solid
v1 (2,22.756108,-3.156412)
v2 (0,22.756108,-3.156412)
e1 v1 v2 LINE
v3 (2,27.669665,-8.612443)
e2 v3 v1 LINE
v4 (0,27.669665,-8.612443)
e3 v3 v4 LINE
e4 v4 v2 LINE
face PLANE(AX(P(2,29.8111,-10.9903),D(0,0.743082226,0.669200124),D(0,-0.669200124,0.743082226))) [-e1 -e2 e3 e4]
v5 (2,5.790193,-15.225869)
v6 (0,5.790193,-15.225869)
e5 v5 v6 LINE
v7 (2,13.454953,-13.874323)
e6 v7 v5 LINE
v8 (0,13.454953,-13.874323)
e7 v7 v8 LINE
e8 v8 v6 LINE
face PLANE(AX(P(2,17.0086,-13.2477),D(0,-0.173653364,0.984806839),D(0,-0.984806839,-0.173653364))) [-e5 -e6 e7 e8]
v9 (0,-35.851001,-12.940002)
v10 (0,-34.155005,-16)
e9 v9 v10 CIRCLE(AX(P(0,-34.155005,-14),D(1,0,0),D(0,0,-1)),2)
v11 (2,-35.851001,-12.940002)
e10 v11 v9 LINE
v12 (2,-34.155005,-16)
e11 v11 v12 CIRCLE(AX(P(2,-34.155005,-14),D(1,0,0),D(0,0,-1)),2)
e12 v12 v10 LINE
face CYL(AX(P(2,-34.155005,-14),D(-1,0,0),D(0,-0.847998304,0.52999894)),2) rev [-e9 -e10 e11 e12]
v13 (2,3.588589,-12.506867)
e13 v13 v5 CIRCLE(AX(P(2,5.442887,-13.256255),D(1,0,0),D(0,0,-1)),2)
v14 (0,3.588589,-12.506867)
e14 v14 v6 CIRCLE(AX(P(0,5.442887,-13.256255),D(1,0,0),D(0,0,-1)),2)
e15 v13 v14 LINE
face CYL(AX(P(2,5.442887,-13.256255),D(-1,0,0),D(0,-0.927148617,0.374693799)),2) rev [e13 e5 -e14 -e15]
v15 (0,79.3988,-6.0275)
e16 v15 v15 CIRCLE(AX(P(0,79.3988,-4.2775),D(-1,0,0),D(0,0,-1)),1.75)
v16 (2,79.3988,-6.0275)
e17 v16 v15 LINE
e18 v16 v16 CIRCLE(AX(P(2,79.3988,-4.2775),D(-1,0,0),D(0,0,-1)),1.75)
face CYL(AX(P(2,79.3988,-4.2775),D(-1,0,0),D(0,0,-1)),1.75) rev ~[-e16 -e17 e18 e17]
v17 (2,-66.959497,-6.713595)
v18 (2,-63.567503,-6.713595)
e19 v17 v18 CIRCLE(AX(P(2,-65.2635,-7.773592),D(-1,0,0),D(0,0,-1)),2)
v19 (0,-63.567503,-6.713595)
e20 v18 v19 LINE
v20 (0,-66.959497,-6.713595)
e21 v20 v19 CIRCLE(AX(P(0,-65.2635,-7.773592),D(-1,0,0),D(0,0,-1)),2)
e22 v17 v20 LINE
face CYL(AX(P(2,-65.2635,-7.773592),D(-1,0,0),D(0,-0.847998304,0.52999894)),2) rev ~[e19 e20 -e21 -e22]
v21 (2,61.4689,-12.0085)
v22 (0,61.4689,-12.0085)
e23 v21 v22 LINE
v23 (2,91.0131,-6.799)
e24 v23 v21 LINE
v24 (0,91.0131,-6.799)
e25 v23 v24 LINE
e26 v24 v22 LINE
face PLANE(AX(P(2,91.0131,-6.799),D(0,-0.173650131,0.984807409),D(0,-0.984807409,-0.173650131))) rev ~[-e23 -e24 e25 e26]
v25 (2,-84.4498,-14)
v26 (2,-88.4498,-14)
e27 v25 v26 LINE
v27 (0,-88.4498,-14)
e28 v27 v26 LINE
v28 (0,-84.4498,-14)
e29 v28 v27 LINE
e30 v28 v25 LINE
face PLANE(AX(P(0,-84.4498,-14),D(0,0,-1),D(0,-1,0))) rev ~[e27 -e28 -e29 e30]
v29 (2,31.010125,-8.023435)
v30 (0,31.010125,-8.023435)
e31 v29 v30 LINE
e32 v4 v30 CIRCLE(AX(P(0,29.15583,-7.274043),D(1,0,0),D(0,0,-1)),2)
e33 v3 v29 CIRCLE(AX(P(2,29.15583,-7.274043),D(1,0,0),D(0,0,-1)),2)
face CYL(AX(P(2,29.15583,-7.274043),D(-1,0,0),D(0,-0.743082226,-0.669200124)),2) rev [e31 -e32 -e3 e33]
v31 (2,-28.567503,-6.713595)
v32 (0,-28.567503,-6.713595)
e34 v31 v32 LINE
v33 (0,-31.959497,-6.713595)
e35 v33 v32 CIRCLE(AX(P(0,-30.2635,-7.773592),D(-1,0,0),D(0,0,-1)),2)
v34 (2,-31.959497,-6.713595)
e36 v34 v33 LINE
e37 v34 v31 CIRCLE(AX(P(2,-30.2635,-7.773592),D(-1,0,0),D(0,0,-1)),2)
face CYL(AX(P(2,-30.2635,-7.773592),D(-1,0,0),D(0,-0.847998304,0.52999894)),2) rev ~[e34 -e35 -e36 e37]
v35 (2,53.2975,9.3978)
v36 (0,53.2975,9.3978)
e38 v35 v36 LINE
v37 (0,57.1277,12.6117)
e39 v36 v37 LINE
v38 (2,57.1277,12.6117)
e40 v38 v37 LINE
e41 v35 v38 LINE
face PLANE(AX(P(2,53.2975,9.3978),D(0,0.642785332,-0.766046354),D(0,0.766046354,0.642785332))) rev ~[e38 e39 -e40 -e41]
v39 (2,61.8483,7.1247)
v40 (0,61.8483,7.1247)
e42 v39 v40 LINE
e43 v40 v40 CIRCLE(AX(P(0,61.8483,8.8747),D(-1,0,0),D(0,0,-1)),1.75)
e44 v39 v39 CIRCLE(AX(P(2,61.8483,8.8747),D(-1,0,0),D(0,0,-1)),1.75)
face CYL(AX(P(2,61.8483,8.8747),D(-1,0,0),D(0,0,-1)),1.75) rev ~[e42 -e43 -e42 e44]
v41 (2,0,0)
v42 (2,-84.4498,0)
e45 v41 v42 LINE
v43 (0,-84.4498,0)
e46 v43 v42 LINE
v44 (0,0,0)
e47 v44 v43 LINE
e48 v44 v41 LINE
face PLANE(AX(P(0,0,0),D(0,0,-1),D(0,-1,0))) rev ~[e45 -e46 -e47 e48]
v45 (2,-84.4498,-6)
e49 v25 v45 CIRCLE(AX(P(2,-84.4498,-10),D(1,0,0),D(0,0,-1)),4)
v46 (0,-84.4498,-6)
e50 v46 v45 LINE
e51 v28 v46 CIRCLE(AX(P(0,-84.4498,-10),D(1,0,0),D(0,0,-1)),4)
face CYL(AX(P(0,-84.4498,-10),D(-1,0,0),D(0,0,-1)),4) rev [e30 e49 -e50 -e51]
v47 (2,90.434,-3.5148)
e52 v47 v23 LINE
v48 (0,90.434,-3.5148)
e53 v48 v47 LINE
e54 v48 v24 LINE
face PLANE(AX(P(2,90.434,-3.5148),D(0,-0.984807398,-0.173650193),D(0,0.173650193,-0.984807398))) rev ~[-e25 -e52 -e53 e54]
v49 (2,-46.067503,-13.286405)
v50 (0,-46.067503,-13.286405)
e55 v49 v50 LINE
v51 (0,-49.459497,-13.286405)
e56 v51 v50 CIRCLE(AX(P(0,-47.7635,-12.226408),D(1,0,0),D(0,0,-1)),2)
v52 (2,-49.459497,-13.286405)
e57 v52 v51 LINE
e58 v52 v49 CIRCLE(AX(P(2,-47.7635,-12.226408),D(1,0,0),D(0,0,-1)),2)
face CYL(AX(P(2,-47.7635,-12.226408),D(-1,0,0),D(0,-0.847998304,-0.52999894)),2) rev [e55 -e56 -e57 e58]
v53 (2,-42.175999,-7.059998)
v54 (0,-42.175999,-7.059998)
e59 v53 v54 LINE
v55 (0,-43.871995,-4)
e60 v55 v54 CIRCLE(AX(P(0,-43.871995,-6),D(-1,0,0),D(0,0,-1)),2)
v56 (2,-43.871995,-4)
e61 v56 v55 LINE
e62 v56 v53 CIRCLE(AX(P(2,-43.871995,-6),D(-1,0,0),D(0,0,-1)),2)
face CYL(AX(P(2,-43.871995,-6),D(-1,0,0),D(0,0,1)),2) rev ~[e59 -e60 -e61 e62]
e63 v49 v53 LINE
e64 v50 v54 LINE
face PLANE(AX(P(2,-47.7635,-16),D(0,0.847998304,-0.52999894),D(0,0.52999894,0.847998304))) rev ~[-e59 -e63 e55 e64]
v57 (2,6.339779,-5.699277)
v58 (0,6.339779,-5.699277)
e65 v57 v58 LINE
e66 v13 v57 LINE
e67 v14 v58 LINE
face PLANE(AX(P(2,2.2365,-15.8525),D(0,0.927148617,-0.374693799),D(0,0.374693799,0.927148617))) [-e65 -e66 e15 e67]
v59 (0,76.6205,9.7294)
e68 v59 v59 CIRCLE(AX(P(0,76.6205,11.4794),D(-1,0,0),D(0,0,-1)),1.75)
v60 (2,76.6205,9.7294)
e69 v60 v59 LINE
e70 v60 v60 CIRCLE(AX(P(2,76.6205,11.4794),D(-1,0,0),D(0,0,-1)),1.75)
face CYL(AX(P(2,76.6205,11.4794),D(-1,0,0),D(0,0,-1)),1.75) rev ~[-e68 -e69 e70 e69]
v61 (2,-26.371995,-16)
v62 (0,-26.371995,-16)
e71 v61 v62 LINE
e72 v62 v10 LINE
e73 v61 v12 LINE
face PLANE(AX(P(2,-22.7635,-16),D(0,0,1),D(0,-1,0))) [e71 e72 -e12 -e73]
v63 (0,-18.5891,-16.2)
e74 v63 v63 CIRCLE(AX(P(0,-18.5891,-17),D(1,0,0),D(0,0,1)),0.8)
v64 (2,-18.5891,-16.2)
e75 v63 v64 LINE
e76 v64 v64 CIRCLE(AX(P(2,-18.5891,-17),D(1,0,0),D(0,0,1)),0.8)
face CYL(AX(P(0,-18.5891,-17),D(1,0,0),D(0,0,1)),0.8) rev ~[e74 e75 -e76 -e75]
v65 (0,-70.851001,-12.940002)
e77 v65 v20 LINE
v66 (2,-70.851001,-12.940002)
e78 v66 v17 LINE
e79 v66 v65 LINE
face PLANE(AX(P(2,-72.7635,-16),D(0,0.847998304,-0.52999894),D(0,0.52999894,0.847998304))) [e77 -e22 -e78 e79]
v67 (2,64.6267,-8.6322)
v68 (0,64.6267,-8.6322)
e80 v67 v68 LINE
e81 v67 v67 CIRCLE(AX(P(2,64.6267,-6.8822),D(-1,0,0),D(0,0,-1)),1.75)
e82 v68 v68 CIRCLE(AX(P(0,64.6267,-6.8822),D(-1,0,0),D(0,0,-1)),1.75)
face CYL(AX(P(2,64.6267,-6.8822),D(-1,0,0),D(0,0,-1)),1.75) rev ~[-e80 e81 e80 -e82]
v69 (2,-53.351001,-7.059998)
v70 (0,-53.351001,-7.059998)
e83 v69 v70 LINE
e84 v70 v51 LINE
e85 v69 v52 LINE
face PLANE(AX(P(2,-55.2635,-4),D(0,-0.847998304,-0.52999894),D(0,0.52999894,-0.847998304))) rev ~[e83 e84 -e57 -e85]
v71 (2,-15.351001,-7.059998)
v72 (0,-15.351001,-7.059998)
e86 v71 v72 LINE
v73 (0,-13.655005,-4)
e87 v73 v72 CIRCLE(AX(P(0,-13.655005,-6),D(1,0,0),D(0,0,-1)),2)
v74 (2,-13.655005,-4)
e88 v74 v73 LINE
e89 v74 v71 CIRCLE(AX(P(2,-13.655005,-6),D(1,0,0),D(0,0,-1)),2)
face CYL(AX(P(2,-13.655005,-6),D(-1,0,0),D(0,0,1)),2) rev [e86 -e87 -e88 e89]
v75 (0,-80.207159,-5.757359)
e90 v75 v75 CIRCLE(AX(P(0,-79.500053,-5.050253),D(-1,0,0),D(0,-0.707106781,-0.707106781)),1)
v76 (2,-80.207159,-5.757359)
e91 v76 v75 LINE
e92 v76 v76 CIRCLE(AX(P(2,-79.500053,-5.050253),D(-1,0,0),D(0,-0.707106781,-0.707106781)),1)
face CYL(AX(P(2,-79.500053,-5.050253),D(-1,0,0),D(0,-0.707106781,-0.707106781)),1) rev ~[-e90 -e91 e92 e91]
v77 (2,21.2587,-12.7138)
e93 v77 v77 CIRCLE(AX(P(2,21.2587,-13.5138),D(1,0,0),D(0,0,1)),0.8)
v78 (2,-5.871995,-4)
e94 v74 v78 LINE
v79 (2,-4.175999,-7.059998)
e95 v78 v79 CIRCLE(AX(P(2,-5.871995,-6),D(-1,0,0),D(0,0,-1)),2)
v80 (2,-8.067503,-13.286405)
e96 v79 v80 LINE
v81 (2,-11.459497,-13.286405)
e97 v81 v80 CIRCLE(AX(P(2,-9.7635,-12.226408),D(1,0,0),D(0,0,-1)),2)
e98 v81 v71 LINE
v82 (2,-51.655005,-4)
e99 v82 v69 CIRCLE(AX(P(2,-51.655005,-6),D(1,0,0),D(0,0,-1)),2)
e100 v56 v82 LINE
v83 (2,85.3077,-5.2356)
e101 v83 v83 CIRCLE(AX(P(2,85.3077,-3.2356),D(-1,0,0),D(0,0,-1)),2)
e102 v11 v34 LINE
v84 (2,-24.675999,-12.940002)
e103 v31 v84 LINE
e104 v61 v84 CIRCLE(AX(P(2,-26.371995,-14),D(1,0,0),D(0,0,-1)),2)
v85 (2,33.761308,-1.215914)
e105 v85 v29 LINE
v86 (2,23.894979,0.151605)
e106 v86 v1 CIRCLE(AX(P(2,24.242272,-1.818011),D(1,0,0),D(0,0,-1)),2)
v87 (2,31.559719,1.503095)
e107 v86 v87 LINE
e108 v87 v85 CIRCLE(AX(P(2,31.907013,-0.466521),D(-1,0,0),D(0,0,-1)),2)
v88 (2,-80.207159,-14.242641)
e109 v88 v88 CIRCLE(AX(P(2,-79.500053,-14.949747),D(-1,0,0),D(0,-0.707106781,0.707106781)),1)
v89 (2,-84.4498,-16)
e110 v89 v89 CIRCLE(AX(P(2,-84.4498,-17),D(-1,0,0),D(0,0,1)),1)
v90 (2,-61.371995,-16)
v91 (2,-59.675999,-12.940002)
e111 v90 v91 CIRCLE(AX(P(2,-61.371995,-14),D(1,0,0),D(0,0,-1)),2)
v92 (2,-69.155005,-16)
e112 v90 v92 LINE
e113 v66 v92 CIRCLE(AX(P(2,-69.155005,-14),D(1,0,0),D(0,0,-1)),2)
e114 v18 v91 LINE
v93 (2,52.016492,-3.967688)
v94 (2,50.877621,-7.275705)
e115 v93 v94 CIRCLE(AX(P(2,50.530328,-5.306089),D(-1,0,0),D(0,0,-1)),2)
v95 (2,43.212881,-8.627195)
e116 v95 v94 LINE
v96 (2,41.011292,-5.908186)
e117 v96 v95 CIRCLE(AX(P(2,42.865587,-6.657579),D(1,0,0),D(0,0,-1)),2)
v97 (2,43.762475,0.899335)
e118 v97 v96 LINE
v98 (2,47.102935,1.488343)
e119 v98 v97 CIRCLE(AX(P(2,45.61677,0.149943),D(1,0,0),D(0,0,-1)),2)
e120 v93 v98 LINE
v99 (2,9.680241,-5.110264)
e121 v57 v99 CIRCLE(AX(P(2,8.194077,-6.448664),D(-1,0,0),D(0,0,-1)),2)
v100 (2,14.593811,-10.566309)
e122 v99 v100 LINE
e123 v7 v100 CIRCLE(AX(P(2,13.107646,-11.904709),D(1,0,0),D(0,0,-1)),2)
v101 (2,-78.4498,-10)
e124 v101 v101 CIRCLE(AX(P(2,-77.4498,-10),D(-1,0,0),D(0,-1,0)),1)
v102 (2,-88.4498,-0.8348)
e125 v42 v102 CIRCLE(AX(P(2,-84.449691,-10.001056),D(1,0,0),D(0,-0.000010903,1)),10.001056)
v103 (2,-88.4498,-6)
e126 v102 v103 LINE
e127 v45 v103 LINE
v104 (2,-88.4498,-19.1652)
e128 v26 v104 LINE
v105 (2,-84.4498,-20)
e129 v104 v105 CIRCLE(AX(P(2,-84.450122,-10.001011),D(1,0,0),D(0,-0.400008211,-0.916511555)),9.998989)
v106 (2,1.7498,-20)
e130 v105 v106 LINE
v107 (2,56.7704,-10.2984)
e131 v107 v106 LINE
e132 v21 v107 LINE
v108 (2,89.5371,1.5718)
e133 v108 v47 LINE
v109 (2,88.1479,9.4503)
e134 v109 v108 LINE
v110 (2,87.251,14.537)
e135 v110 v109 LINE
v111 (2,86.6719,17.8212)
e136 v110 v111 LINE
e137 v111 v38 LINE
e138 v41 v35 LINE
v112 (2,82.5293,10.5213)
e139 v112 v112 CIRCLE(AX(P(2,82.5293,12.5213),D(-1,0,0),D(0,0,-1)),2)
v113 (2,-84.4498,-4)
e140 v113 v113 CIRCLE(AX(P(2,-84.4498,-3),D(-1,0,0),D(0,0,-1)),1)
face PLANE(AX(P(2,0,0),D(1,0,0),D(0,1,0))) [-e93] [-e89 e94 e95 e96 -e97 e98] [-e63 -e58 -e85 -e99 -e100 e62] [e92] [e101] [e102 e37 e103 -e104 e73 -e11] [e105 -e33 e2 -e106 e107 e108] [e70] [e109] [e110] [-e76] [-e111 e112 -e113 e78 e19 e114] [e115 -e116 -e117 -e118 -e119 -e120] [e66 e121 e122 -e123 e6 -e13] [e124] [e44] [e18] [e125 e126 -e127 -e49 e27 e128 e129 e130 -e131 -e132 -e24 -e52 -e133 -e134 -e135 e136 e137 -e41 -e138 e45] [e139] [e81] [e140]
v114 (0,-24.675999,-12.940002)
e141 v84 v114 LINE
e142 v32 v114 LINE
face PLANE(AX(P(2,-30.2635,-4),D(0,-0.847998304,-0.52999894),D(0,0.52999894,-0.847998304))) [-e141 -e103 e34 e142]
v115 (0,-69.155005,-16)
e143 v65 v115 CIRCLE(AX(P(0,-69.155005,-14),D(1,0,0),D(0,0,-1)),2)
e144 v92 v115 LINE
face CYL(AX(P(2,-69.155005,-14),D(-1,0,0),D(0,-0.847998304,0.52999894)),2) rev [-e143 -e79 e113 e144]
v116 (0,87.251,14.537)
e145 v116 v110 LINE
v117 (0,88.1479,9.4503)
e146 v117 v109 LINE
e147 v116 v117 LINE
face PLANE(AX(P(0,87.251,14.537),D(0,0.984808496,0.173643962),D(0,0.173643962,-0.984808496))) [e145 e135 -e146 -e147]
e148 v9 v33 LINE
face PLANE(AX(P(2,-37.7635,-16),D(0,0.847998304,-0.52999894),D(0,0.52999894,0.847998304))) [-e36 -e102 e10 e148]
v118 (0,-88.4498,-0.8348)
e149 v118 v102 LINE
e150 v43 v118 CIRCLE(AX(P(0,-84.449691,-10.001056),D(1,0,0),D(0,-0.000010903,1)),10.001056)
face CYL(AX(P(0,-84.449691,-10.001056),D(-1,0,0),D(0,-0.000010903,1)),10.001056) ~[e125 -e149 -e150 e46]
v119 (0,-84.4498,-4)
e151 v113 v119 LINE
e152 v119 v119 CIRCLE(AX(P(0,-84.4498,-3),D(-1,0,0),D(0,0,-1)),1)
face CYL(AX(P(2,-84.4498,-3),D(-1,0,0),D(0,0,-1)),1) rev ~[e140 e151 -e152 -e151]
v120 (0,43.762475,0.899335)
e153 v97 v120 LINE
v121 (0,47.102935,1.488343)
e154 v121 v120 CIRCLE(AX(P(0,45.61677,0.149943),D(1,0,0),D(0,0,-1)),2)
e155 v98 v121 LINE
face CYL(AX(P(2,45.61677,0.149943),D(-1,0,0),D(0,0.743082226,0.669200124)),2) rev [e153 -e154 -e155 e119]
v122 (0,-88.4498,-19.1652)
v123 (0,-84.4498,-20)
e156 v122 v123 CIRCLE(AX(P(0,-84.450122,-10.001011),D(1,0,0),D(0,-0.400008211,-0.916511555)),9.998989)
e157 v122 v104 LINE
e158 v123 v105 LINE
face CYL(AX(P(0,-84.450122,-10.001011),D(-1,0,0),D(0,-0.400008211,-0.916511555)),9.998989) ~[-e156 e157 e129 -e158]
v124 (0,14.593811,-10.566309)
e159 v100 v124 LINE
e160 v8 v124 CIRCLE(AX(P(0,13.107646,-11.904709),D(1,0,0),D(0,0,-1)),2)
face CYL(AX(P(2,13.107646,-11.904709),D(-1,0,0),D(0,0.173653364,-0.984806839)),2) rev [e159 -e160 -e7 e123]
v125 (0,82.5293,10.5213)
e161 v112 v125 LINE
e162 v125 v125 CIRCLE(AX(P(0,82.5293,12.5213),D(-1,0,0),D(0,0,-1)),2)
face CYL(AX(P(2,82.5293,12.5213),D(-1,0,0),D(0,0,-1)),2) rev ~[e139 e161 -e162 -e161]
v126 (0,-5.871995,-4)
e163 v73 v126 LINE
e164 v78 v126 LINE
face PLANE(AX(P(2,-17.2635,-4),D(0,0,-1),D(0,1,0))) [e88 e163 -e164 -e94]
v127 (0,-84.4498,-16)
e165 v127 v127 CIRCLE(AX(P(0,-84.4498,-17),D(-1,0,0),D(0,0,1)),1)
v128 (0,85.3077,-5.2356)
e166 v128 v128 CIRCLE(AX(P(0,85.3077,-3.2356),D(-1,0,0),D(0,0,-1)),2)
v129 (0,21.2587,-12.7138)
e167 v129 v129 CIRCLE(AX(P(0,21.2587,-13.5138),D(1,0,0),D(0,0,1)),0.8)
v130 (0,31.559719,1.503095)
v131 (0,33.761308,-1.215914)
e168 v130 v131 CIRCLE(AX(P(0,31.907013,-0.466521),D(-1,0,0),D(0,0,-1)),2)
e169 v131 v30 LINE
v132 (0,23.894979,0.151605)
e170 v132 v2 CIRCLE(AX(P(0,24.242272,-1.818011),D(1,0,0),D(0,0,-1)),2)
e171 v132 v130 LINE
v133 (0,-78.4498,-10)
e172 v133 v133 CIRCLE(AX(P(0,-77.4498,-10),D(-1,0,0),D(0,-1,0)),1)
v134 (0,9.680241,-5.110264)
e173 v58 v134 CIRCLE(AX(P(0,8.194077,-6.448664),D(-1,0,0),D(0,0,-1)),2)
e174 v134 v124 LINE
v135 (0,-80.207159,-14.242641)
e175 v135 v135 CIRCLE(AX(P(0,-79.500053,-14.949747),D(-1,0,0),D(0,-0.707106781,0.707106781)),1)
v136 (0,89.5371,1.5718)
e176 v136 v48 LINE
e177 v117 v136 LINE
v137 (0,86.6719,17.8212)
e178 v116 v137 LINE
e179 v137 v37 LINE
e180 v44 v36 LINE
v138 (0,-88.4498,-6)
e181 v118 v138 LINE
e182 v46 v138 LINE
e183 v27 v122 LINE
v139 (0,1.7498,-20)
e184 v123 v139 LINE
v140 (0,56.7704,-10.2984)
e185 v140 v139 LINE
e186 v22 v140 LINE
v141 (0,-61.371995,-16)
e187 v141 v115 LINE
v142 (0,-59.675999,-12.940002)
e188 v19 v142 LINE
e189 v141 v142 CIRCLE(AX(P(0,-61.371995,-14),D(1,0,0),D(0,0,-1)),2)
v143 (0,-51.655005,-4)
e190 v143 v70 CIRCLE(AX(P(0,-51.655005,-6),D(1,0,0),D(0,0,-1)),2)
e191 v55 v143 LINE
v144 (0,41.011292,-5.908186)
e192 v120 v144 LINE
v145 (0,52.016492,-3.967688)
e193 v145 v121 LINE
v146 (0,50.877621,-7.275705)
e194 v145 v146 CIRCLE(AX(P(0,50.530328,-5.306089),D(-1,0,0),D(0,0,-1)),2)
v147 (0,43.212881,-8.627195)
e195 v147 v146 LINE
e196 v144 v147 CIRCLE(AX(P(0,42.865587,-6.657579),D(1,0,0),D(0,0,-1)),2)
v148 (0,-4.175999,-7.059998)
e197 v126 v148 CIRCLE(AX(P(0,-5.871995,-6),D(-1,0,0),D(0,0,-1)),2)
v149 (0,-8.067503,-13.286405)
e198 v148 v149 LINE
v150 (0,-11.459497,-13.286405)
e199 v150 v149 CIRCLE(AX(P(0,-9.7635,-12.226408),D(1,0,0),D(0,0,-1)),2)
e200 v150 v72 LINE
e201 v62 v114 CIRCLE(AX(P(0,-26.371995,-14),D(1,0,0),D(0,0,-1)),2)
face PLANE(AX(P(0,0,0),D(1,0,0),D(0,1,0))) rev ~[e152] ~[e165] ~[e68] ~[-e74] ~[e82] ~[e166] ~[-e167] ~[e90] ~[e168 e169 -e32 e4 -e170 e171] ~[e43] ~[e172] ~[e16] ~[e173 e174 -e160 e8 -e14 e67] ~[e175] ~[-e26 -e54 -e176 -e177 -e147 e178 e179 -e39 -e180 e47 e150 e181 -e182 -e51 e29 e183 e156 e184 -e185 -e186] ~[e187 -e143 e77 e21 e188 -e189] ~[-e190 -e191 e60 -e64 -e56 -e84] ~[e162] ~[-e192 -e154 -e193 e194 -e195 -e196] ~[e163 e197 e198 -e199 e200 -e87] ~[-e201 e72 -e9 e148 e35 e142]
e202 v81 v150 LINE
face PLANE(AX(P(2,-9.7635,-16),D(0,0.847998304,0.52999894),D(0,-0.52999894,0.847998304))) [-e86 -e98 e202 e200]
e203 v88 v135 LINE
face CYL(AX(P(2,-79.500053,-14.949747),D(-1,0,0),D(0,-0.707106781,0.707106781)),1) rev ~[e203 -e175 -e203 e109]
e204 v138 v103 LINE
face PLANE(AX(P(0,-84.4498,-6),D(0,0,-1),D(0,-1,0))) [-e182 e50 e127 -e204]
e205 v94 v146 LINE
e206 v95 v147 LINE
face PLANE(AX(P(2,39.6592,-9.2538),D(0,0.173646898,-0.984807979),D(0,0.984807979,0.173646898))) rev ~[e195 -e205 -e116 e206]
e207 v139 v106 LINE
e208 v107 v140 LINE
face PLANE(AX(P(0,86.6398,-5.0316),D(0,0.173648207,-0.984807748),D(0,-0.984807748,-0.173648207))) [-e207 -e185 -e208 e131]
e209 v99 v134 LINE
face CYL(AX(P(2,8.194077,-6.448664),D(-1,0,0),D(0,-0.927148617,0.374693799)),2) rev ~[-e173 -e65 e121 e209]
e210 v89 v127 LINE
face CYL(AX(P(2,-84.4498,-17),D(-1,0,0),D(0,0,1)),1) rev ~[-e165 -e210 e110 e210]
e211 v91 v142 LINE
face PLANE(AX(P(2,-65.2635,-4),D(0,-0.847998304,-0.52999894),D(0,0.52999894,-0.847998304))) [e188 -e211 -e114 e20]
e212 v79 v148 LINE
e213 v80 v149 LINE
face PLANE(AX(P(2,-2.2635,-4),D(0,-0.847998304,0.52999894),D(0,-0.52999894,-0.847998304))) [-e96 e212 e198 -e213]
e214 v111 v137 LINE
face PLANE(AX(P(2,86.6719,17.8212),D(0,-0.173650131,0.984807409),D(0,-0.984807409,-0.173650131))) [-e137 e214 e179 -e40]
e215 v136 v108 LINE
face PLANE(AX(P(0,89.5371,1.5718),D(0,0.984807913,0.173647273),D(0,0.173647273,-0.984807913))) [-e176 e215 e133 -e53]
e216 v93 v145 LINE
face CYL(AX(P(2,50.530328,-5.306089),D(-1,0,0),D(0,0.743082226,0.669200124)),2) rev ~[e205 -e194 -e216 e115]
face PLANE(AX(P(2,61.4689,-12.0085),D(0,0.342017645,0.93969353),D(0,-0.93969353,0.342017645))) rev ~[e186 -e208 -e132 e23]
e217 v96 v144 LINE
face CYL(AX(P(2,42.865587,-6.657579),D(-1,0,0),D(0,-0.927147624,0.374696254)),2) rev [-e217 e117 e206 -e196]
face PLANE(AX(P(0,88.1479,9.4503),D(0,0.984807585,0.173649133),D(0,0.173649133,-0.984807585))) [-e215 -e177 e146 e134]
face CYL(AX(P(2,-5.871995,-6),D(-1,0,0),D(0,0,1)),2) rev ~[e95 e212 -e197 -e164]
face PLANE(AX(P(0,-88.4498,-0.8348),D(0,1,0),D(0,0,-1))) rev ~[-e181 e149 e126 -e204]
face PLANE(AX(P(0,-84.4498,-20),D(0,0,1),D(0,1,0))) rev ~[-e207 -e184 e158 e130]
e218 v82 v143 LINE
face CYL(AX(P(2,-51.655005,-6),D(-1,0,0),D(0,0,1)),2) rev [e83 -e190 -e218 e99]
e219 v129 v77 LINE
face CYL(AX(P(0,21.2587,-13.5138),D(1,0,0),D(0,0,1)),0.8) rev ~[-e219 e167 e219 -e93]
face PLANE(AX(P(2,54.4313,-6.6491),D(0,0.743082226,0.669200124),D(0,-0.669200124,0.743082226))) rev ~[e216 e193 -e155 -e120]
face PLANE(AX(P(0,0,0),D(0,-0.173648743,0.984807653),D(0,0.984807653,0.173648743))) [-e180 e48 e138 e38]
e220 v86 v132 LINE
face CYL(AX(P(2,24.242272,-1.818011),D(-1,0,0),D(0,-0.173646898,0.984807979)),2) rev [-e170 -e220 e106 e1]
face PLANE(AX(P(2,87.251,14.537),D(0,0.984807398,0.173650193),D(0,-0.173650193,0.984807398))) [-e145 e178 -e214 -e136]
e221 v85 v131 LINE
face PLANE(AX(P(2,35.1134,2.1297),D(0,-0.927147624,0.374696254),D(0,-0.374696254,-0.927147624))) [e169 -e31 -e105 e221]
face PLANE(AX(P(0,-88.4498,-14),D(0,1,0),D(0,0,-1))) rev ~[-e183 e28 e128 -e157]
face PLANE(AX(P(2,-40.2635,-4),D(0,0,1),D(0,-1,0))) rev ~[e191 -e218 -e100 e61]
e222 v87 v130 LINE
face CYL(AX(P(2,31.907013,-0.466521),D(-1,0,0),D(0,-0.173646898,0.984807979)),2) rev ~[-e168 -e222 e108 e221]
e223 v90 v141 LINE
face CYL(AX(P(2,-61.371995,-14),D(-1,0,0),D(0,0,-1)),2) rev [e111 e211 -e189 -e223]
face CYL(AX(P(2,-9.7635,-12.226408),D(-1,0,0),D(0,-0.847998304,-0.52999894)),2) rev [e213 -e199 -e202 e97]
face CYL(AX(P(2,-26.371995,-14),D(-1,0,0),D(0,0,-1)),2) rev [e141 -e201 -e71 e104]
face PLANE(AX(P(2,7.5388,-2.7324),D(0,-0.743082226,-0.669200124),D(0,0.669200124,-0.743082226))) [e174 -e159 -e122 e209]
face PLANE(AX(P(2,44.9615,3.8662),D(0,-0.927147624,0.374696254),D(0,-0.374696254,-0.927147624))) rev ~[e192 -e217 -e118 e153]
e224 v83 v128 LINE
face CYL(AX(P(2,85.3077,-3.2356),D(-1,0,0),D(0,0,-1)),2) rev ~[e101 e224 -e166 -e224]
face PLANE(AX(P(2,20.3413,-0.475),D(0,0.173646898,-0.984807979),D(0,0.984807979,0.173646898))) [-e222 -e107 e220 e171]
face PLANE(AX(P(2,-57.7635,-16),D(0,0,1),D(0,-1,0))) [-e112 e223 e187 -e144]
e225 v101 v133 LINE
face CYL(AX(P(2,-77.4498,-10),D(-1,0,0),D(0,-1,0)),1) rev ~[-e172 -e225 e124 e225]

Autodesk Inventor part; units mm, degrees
ref_plane "YZ Plane" through (0, 0, 0) normal (1, 0, 0) x (0, 1, 0)
ref_plane "XZ Plane" through (0, 0, 0) normal (0, 1, 0) x (-1, 0, 0)
ref_plane "XY Plane" through (0, 0, 0) normal (0, 0, 1) x (1, 0, 0)
sketch "スケッチ2" plane through (0, 0, 0) normal (1, 0, 0) x (0, 1, 0)
  line L0 (0, 0) -> (-84.4498, 0)
  line L1 (-84.4498, -20) -> (1.7498, -20)
  line L2 (0, 0) -> (83.1668, 14.6646)
  line L3 (86.6398, -5.0316) -> (1.7498, -20)
  arc A0 (87.251, 14.537) -> (83.1668, 14.6646) centre (84.9033, 4.8165) ccw
  arc A1 (86.6398, -5.0316) -> (90.434, -3.5148) centre (84.9033, 4.8165) ccw
  arc A2 (-88.4498, -19.1652) -> (-84.4498, -20) centre (-84.4498, -10) ccw
  arc A3 (-84.4498, 0) -> (-88.4498, -0.8348) centre (-84.4498, -10) ccw
  arc A4 (-84.4498, -14) -> (-84.4498, -6) centre (-84.4498, -10) ccw
  line L4 (-84.4498, -6) -> (-88.4498, -6)
  line L5 (-84.4498, -14) -> (-88.4498, -14)
  line L6 (-88.4498, -0.8348) -> (-88.4498, -6)
  line L7 (-88.4498, -14) -> (-88.4498, -19.1652)
  line L8 (87.251, 14.537) -> (88.1479, 9.4503)
  line L9 (89.5371, 1.5718) -> (90.434, -3.5148)
  line L10 (1.7498, -20) -> (0, 0)
  line L11 (88.1479, 9.4503) -> (89.5371, 1.5718)
  dimension "d21" = 20
  dimension "d22" = 10
  dimension "d23" = 170
  dimension "d27" = 10
  dimension "d31" = 8
  dimension "d33" = 4
  dimension "d35" = 4
  dimension "d36" = 170
  dimension "d139" = 20
extrude "押し出し1" add sketch "スケッチ2" along normal blind 2
sketch "スケッチ4" plane through (0, 0, 0) normal (-1, 0, 0) x (0, 0, 1)
  line L0 (-20, 1.7498) -> (-5.0316, 86.6398) projected
  line L1 (-20, -84.4498) -> (-20, 1.7498) projected
  circle A0 centre (-17, -18.5891) radius 1
  circle A1 centre (-13.5138, 21.2587) radius 1
  line L2 (-17, -18.5891) -> (-13.5138, 21.2587)
  line L3 (-20, 1.7498) -> (0, 0)
  dimension "d57" = 2
  dimension "d59" = 40
  dimension "d60" = 175
  dimension "d61" = 3
  dimension "d62" = 3
hole "穴2" at (0, -18.5891, -17) at (0, 21.2587, -13.5138) direction (1, 0, 0) diameter 1.6 end through all
sketch "スケッチ6" plane through (2, 0, 0) normal (1, 0, 0) x (0, 0, -1)
  line L0 (20, 1.7498) -> (5.0316, 86.6398) projected
  arc A0 (5.0316, 86.6398) -> (3.5148, 90.434) centre (-4.8165, 84.9033) ccw projected
  line L1 (3.5148, 90.434) -> (-14.537, 87.251) projected
  arc A1 (-14.537, 87.251) -> (-14.6646, 83.1668) centre (-4.8165, 84.9033) ccw projected
  line L2 (-14.6646, 83.1668) -> (0, 0) projected
  line L3 (-9.3978, 53.2975) -> (-12.6117, 57.1277)
  line L4 (-14.537, 87.251) -> (-17.8212, 86.6719)
  line L5 (-17.8212, 86.6719) -> (-12.6117, 57.1277)
  line L6 (3.5148, 90.434) -> (6.799, 91.0131)
  line L7 (6.799, 91.0131) -> (12.0085, 61.4689)
  line L8 (12.0085, 61.4689) -> (10.2984, 56.7704)
  dimension "d75" = 150
  dimension "d76" = 150
  dimension "d77" = 2.5
  dimension "d78" = 2.5
  dimension "d79" = 30
extrude "押し出し2" add sketch "スケッチ6" against normal blind 2
sketch "スケッチ5" plane through (2, 0, 0) normal (1, 0, 0) x (0, 0, -1)
  line L0 (3.5148, 90.434) -> (-14.537, 87.251) projected
  circle A0 centre (-12.5213, 82.5293) radius 1.5
  circle A1 centre (3.2356, 85.3077) radius 1.5
  line L1 (-12.6117, 57.1277) -> (-17.8212, 86.6719) projected
  line L2 (-17.8212, 86.6719) -> (6.799, 91.0131) projected
  line L3 (6.799, 91.0131) -> (12.0085, 61.4689) projected
  line L4 (12.0085, 61.4689) -> (10.2984, 56.7704) projected
  line L5 (10.2984, 56.7704) -> (20, 1.7498) projected
  line L6 (20, 1.7498) -> (20, -84.4498) projected
  arc A2 (19.1652, -88.4498) -> (20, -84.4498) centre (10, -84.4498) ccw projected
  line L7 (19.1652, -88.4498) -> (14, -88.4498) projected
  line L8 (14, -88.4498) -> (14, -84.4498) projected
  arc A3 (14, -84.4498) -> (6, -84.4498) centre (10, -84.4498) ccw projected
  line L9 (6, -84.4498) -> (6, -88.4498) projected
  line L10 (6, -88.4498) -> (0.8348, -88.4498) projected
  arc A4 (0, -84.4498) -> (0.8348, -88.4498) centre (10, -84.4498) ccw projected
  line L11 (0, -84.4498) -> (0, 0) projected
  line L12 (0, 0) -> (-9.3978, 53.2975) projected
  line L13 (-9.3978, 53.2975) -> (-12.6117, 57.1277) projected
  circle A5 centre (17, -18.5891) radius 0.8 projected
  circle A6 centre (13.5138, 21.2587) radius 0.8 projected
  dimension "d70" = 5
  dimension "d71" = 5
  dimension "d72" = 3
  dimension "d114" = 16
  dimension "d123" = 4.5
hole "穴3" at (2, 82.5293, 12.5213) at (2, 85.3077, -3.2356) direction (-1, 0, 0) diameter 4 end through all
sketch "スケッチ7" plane through (2, 0, 0) normal (1, 0, 0) x (0, 0, -1)
  arc A0 (0, -84.4498) -> (0.8348, -88.4498) centre (10, -84.4498) ccw projected
  line L0 (0.8348, -88.4498) -> (6, -88.4498) projected
  circle A1 centre (3, -84.4498) radius 1
  dimension "d89" = 4
  dimension "d90" = 7
  dimension "d91" = 2
hole "穴4" at (2, -84.4498, -3) direction (-1, 0, 0) diameter 2 end through all
pattern_circular "円形状パターン3" count 5 over 180 about axis through (0, -84.4498, -10) along (-1, 0, 0) of "穴4"
sketch "スケッチ8" plane through (2, 0, 0) normal (1, 0, 0) x (0, 0, -1)
  line L0 (6.799, 91.0131) -> (-17.8212, 86.6719) projected
  line L1 (-17.8212, 86.6719) -> (-12.6117, 57.1277) projected
  circle A0 centre (-11.4794, 76.6205) radius 1.5
  circle A1 centre (4.2775, 79.3988) radius 1.5
  dimension "d102" = 11
  dimension "d103" = 11
  dimension "d104" = 16
  dimension "d105" = 4.5
  dimension "d106" = 3
hole "穴5" at (2, 76.6205, 11.4794) at (2, 79.3988, -4.2775) direction (-1, 0, 0) diameter 3.5 end through all
sketch "スケッチ11" plane through (2, 0, 0) normal (1, 0, 0) x (0, 0, -1)
  circle A0 centre (-11.4794, 76.6205) radius 1.75 projected
  circle A1 centre (4.2775, 79.3988) radius 1.75 projected
  line L0 (-17.8212, 86.6719) -> (-12.6117, 57.1277) projected
  circle A2 centre (-8.8747, 61.8483) radius 1.5
  circle A3 centre (6.8822, 64.6267) radius 1.5
  dimension "d124" = 3
  dimension "d126" = 16
  dimension "d127" = 15
  dimension "d128" = 4.5
  dimension "d130" = 15
hole "穴6" at (2, 61.8483, 8.8747) at (2, 64.6267, -6.8822) direction (-1, 0, 0) diameter 3.5 end through all
sketch "スケッチ13" plane through (2, 0, 0) normal (1, 0, 0) x (0, 0, -1)
  line L0 (0, 0) -> (0, -84.4498) projected
  line L1 (20, -84.4498) -> (20, 1.7498) projected
  line L2 (20, 1.7498) -> (10.2984, 56.7704) projected
  line L3 (6.799, 91.0131) -> (-17.8212, 86.6719) projected
  line L4 (-9.3978, 53.2975) -> (0, 0) projected
  line L5 (-3.8662, 44.9615) -> (9.2538, 39.6592)
  line L6 (9.2538, 39.6592) -> (6.6491, 54.4313)
  line L7 (6.6491, 54.4313) -> (-3.8662, 44.9615)
  line L8 (-2.1297, 35.1134) -> (10.9903, 29.8111)
  line L9 (10.9903, 29.8111) -> (0.475, 20.3413)
  line L10 (0.475, 20.3413) -> (-2.1297, 35.1134)
  line L11 (2.7324, 7.5388) -> (13.2477, 17.0086)
  line L12 (13.2477, 17.0086) -> (15.8525, 2.2365)
  line L13 (15.8525, 2.2365) -> (2.7324, 7.5388)
  line L14 (4, -2.2635) -> (16, -9.7635)
  line L15 (4, -17.2635) -> (4, -2.2635)
  line L16 (16, -9.7635) -> (4, -17.2635)
  line L17 (4, -30.2635) -> (16, -22.7635)
  line L18 (16, -22.7635) -> (16, -37.7635)
  line L19 (16, -37.7635) -> (4, -30.2635)
  line L20 (4, -55.2635) -> (16, -47.7635)
  line L21 (16, -47.7635) -> (4, -40.2635)
  line L22 (4, -40.2635) -> (4, -55.2635)
  line L23 (4, -65.2635) -> (16, -57.7635)
  line L24 (16, -57.7635) -> (16, -72.7635)
  line L25 (16, -72.7635) -> (4, -65.2635)
  dimension "d141" = 15
  dimension "d144" = 4
  dimension "d145" = 36
  dimension "d146" = 12
  dimension "d147" = 4
  dimension "d149" = 4
  dimension "d160" = 4
  dimension "d162" = 61
  dimension "d163" = 74
  dimension "d164" = 12
  dimension "d165" = 13
  dimension "d166" = 4
  dimension "d167" = 4
  dimension "d168" = 10
  dimension "d169" = 4
  dimension "d170" = 10
extrude "押し出し4" cut sketch "スケッチ13" against normal blind 2
fillet "フィレット1" radius 2 21 edges at (1, -65.2635, -4) (1, -30.2635, -4) (1, 44.9615, 3.8662) (1, 7.5388, -2.7324) (1, 35.1134, 2.1297) (1, -2.2635, -4) (1, -40.2635, -4) (1, 54.4313, -6.6491) (1, 17.0086, -13.2477) (1, -22.7635, -16) (1, -57.7635, -16) (1, -55.2635, -4) (1, -17.2635, -4) (1, 20.3413, -0.475) (1, 39.6592, -9.2538) (1, 2.2365, -15.8525) (1, 29.8111, -10.9903) (1, -9.7635, -16) (1, -47.7635, -16) (1, -37.7635, -16) (1, -72.7635, -16)
properties part number "Arm_Link_1" material "アルミニウム 6061"
